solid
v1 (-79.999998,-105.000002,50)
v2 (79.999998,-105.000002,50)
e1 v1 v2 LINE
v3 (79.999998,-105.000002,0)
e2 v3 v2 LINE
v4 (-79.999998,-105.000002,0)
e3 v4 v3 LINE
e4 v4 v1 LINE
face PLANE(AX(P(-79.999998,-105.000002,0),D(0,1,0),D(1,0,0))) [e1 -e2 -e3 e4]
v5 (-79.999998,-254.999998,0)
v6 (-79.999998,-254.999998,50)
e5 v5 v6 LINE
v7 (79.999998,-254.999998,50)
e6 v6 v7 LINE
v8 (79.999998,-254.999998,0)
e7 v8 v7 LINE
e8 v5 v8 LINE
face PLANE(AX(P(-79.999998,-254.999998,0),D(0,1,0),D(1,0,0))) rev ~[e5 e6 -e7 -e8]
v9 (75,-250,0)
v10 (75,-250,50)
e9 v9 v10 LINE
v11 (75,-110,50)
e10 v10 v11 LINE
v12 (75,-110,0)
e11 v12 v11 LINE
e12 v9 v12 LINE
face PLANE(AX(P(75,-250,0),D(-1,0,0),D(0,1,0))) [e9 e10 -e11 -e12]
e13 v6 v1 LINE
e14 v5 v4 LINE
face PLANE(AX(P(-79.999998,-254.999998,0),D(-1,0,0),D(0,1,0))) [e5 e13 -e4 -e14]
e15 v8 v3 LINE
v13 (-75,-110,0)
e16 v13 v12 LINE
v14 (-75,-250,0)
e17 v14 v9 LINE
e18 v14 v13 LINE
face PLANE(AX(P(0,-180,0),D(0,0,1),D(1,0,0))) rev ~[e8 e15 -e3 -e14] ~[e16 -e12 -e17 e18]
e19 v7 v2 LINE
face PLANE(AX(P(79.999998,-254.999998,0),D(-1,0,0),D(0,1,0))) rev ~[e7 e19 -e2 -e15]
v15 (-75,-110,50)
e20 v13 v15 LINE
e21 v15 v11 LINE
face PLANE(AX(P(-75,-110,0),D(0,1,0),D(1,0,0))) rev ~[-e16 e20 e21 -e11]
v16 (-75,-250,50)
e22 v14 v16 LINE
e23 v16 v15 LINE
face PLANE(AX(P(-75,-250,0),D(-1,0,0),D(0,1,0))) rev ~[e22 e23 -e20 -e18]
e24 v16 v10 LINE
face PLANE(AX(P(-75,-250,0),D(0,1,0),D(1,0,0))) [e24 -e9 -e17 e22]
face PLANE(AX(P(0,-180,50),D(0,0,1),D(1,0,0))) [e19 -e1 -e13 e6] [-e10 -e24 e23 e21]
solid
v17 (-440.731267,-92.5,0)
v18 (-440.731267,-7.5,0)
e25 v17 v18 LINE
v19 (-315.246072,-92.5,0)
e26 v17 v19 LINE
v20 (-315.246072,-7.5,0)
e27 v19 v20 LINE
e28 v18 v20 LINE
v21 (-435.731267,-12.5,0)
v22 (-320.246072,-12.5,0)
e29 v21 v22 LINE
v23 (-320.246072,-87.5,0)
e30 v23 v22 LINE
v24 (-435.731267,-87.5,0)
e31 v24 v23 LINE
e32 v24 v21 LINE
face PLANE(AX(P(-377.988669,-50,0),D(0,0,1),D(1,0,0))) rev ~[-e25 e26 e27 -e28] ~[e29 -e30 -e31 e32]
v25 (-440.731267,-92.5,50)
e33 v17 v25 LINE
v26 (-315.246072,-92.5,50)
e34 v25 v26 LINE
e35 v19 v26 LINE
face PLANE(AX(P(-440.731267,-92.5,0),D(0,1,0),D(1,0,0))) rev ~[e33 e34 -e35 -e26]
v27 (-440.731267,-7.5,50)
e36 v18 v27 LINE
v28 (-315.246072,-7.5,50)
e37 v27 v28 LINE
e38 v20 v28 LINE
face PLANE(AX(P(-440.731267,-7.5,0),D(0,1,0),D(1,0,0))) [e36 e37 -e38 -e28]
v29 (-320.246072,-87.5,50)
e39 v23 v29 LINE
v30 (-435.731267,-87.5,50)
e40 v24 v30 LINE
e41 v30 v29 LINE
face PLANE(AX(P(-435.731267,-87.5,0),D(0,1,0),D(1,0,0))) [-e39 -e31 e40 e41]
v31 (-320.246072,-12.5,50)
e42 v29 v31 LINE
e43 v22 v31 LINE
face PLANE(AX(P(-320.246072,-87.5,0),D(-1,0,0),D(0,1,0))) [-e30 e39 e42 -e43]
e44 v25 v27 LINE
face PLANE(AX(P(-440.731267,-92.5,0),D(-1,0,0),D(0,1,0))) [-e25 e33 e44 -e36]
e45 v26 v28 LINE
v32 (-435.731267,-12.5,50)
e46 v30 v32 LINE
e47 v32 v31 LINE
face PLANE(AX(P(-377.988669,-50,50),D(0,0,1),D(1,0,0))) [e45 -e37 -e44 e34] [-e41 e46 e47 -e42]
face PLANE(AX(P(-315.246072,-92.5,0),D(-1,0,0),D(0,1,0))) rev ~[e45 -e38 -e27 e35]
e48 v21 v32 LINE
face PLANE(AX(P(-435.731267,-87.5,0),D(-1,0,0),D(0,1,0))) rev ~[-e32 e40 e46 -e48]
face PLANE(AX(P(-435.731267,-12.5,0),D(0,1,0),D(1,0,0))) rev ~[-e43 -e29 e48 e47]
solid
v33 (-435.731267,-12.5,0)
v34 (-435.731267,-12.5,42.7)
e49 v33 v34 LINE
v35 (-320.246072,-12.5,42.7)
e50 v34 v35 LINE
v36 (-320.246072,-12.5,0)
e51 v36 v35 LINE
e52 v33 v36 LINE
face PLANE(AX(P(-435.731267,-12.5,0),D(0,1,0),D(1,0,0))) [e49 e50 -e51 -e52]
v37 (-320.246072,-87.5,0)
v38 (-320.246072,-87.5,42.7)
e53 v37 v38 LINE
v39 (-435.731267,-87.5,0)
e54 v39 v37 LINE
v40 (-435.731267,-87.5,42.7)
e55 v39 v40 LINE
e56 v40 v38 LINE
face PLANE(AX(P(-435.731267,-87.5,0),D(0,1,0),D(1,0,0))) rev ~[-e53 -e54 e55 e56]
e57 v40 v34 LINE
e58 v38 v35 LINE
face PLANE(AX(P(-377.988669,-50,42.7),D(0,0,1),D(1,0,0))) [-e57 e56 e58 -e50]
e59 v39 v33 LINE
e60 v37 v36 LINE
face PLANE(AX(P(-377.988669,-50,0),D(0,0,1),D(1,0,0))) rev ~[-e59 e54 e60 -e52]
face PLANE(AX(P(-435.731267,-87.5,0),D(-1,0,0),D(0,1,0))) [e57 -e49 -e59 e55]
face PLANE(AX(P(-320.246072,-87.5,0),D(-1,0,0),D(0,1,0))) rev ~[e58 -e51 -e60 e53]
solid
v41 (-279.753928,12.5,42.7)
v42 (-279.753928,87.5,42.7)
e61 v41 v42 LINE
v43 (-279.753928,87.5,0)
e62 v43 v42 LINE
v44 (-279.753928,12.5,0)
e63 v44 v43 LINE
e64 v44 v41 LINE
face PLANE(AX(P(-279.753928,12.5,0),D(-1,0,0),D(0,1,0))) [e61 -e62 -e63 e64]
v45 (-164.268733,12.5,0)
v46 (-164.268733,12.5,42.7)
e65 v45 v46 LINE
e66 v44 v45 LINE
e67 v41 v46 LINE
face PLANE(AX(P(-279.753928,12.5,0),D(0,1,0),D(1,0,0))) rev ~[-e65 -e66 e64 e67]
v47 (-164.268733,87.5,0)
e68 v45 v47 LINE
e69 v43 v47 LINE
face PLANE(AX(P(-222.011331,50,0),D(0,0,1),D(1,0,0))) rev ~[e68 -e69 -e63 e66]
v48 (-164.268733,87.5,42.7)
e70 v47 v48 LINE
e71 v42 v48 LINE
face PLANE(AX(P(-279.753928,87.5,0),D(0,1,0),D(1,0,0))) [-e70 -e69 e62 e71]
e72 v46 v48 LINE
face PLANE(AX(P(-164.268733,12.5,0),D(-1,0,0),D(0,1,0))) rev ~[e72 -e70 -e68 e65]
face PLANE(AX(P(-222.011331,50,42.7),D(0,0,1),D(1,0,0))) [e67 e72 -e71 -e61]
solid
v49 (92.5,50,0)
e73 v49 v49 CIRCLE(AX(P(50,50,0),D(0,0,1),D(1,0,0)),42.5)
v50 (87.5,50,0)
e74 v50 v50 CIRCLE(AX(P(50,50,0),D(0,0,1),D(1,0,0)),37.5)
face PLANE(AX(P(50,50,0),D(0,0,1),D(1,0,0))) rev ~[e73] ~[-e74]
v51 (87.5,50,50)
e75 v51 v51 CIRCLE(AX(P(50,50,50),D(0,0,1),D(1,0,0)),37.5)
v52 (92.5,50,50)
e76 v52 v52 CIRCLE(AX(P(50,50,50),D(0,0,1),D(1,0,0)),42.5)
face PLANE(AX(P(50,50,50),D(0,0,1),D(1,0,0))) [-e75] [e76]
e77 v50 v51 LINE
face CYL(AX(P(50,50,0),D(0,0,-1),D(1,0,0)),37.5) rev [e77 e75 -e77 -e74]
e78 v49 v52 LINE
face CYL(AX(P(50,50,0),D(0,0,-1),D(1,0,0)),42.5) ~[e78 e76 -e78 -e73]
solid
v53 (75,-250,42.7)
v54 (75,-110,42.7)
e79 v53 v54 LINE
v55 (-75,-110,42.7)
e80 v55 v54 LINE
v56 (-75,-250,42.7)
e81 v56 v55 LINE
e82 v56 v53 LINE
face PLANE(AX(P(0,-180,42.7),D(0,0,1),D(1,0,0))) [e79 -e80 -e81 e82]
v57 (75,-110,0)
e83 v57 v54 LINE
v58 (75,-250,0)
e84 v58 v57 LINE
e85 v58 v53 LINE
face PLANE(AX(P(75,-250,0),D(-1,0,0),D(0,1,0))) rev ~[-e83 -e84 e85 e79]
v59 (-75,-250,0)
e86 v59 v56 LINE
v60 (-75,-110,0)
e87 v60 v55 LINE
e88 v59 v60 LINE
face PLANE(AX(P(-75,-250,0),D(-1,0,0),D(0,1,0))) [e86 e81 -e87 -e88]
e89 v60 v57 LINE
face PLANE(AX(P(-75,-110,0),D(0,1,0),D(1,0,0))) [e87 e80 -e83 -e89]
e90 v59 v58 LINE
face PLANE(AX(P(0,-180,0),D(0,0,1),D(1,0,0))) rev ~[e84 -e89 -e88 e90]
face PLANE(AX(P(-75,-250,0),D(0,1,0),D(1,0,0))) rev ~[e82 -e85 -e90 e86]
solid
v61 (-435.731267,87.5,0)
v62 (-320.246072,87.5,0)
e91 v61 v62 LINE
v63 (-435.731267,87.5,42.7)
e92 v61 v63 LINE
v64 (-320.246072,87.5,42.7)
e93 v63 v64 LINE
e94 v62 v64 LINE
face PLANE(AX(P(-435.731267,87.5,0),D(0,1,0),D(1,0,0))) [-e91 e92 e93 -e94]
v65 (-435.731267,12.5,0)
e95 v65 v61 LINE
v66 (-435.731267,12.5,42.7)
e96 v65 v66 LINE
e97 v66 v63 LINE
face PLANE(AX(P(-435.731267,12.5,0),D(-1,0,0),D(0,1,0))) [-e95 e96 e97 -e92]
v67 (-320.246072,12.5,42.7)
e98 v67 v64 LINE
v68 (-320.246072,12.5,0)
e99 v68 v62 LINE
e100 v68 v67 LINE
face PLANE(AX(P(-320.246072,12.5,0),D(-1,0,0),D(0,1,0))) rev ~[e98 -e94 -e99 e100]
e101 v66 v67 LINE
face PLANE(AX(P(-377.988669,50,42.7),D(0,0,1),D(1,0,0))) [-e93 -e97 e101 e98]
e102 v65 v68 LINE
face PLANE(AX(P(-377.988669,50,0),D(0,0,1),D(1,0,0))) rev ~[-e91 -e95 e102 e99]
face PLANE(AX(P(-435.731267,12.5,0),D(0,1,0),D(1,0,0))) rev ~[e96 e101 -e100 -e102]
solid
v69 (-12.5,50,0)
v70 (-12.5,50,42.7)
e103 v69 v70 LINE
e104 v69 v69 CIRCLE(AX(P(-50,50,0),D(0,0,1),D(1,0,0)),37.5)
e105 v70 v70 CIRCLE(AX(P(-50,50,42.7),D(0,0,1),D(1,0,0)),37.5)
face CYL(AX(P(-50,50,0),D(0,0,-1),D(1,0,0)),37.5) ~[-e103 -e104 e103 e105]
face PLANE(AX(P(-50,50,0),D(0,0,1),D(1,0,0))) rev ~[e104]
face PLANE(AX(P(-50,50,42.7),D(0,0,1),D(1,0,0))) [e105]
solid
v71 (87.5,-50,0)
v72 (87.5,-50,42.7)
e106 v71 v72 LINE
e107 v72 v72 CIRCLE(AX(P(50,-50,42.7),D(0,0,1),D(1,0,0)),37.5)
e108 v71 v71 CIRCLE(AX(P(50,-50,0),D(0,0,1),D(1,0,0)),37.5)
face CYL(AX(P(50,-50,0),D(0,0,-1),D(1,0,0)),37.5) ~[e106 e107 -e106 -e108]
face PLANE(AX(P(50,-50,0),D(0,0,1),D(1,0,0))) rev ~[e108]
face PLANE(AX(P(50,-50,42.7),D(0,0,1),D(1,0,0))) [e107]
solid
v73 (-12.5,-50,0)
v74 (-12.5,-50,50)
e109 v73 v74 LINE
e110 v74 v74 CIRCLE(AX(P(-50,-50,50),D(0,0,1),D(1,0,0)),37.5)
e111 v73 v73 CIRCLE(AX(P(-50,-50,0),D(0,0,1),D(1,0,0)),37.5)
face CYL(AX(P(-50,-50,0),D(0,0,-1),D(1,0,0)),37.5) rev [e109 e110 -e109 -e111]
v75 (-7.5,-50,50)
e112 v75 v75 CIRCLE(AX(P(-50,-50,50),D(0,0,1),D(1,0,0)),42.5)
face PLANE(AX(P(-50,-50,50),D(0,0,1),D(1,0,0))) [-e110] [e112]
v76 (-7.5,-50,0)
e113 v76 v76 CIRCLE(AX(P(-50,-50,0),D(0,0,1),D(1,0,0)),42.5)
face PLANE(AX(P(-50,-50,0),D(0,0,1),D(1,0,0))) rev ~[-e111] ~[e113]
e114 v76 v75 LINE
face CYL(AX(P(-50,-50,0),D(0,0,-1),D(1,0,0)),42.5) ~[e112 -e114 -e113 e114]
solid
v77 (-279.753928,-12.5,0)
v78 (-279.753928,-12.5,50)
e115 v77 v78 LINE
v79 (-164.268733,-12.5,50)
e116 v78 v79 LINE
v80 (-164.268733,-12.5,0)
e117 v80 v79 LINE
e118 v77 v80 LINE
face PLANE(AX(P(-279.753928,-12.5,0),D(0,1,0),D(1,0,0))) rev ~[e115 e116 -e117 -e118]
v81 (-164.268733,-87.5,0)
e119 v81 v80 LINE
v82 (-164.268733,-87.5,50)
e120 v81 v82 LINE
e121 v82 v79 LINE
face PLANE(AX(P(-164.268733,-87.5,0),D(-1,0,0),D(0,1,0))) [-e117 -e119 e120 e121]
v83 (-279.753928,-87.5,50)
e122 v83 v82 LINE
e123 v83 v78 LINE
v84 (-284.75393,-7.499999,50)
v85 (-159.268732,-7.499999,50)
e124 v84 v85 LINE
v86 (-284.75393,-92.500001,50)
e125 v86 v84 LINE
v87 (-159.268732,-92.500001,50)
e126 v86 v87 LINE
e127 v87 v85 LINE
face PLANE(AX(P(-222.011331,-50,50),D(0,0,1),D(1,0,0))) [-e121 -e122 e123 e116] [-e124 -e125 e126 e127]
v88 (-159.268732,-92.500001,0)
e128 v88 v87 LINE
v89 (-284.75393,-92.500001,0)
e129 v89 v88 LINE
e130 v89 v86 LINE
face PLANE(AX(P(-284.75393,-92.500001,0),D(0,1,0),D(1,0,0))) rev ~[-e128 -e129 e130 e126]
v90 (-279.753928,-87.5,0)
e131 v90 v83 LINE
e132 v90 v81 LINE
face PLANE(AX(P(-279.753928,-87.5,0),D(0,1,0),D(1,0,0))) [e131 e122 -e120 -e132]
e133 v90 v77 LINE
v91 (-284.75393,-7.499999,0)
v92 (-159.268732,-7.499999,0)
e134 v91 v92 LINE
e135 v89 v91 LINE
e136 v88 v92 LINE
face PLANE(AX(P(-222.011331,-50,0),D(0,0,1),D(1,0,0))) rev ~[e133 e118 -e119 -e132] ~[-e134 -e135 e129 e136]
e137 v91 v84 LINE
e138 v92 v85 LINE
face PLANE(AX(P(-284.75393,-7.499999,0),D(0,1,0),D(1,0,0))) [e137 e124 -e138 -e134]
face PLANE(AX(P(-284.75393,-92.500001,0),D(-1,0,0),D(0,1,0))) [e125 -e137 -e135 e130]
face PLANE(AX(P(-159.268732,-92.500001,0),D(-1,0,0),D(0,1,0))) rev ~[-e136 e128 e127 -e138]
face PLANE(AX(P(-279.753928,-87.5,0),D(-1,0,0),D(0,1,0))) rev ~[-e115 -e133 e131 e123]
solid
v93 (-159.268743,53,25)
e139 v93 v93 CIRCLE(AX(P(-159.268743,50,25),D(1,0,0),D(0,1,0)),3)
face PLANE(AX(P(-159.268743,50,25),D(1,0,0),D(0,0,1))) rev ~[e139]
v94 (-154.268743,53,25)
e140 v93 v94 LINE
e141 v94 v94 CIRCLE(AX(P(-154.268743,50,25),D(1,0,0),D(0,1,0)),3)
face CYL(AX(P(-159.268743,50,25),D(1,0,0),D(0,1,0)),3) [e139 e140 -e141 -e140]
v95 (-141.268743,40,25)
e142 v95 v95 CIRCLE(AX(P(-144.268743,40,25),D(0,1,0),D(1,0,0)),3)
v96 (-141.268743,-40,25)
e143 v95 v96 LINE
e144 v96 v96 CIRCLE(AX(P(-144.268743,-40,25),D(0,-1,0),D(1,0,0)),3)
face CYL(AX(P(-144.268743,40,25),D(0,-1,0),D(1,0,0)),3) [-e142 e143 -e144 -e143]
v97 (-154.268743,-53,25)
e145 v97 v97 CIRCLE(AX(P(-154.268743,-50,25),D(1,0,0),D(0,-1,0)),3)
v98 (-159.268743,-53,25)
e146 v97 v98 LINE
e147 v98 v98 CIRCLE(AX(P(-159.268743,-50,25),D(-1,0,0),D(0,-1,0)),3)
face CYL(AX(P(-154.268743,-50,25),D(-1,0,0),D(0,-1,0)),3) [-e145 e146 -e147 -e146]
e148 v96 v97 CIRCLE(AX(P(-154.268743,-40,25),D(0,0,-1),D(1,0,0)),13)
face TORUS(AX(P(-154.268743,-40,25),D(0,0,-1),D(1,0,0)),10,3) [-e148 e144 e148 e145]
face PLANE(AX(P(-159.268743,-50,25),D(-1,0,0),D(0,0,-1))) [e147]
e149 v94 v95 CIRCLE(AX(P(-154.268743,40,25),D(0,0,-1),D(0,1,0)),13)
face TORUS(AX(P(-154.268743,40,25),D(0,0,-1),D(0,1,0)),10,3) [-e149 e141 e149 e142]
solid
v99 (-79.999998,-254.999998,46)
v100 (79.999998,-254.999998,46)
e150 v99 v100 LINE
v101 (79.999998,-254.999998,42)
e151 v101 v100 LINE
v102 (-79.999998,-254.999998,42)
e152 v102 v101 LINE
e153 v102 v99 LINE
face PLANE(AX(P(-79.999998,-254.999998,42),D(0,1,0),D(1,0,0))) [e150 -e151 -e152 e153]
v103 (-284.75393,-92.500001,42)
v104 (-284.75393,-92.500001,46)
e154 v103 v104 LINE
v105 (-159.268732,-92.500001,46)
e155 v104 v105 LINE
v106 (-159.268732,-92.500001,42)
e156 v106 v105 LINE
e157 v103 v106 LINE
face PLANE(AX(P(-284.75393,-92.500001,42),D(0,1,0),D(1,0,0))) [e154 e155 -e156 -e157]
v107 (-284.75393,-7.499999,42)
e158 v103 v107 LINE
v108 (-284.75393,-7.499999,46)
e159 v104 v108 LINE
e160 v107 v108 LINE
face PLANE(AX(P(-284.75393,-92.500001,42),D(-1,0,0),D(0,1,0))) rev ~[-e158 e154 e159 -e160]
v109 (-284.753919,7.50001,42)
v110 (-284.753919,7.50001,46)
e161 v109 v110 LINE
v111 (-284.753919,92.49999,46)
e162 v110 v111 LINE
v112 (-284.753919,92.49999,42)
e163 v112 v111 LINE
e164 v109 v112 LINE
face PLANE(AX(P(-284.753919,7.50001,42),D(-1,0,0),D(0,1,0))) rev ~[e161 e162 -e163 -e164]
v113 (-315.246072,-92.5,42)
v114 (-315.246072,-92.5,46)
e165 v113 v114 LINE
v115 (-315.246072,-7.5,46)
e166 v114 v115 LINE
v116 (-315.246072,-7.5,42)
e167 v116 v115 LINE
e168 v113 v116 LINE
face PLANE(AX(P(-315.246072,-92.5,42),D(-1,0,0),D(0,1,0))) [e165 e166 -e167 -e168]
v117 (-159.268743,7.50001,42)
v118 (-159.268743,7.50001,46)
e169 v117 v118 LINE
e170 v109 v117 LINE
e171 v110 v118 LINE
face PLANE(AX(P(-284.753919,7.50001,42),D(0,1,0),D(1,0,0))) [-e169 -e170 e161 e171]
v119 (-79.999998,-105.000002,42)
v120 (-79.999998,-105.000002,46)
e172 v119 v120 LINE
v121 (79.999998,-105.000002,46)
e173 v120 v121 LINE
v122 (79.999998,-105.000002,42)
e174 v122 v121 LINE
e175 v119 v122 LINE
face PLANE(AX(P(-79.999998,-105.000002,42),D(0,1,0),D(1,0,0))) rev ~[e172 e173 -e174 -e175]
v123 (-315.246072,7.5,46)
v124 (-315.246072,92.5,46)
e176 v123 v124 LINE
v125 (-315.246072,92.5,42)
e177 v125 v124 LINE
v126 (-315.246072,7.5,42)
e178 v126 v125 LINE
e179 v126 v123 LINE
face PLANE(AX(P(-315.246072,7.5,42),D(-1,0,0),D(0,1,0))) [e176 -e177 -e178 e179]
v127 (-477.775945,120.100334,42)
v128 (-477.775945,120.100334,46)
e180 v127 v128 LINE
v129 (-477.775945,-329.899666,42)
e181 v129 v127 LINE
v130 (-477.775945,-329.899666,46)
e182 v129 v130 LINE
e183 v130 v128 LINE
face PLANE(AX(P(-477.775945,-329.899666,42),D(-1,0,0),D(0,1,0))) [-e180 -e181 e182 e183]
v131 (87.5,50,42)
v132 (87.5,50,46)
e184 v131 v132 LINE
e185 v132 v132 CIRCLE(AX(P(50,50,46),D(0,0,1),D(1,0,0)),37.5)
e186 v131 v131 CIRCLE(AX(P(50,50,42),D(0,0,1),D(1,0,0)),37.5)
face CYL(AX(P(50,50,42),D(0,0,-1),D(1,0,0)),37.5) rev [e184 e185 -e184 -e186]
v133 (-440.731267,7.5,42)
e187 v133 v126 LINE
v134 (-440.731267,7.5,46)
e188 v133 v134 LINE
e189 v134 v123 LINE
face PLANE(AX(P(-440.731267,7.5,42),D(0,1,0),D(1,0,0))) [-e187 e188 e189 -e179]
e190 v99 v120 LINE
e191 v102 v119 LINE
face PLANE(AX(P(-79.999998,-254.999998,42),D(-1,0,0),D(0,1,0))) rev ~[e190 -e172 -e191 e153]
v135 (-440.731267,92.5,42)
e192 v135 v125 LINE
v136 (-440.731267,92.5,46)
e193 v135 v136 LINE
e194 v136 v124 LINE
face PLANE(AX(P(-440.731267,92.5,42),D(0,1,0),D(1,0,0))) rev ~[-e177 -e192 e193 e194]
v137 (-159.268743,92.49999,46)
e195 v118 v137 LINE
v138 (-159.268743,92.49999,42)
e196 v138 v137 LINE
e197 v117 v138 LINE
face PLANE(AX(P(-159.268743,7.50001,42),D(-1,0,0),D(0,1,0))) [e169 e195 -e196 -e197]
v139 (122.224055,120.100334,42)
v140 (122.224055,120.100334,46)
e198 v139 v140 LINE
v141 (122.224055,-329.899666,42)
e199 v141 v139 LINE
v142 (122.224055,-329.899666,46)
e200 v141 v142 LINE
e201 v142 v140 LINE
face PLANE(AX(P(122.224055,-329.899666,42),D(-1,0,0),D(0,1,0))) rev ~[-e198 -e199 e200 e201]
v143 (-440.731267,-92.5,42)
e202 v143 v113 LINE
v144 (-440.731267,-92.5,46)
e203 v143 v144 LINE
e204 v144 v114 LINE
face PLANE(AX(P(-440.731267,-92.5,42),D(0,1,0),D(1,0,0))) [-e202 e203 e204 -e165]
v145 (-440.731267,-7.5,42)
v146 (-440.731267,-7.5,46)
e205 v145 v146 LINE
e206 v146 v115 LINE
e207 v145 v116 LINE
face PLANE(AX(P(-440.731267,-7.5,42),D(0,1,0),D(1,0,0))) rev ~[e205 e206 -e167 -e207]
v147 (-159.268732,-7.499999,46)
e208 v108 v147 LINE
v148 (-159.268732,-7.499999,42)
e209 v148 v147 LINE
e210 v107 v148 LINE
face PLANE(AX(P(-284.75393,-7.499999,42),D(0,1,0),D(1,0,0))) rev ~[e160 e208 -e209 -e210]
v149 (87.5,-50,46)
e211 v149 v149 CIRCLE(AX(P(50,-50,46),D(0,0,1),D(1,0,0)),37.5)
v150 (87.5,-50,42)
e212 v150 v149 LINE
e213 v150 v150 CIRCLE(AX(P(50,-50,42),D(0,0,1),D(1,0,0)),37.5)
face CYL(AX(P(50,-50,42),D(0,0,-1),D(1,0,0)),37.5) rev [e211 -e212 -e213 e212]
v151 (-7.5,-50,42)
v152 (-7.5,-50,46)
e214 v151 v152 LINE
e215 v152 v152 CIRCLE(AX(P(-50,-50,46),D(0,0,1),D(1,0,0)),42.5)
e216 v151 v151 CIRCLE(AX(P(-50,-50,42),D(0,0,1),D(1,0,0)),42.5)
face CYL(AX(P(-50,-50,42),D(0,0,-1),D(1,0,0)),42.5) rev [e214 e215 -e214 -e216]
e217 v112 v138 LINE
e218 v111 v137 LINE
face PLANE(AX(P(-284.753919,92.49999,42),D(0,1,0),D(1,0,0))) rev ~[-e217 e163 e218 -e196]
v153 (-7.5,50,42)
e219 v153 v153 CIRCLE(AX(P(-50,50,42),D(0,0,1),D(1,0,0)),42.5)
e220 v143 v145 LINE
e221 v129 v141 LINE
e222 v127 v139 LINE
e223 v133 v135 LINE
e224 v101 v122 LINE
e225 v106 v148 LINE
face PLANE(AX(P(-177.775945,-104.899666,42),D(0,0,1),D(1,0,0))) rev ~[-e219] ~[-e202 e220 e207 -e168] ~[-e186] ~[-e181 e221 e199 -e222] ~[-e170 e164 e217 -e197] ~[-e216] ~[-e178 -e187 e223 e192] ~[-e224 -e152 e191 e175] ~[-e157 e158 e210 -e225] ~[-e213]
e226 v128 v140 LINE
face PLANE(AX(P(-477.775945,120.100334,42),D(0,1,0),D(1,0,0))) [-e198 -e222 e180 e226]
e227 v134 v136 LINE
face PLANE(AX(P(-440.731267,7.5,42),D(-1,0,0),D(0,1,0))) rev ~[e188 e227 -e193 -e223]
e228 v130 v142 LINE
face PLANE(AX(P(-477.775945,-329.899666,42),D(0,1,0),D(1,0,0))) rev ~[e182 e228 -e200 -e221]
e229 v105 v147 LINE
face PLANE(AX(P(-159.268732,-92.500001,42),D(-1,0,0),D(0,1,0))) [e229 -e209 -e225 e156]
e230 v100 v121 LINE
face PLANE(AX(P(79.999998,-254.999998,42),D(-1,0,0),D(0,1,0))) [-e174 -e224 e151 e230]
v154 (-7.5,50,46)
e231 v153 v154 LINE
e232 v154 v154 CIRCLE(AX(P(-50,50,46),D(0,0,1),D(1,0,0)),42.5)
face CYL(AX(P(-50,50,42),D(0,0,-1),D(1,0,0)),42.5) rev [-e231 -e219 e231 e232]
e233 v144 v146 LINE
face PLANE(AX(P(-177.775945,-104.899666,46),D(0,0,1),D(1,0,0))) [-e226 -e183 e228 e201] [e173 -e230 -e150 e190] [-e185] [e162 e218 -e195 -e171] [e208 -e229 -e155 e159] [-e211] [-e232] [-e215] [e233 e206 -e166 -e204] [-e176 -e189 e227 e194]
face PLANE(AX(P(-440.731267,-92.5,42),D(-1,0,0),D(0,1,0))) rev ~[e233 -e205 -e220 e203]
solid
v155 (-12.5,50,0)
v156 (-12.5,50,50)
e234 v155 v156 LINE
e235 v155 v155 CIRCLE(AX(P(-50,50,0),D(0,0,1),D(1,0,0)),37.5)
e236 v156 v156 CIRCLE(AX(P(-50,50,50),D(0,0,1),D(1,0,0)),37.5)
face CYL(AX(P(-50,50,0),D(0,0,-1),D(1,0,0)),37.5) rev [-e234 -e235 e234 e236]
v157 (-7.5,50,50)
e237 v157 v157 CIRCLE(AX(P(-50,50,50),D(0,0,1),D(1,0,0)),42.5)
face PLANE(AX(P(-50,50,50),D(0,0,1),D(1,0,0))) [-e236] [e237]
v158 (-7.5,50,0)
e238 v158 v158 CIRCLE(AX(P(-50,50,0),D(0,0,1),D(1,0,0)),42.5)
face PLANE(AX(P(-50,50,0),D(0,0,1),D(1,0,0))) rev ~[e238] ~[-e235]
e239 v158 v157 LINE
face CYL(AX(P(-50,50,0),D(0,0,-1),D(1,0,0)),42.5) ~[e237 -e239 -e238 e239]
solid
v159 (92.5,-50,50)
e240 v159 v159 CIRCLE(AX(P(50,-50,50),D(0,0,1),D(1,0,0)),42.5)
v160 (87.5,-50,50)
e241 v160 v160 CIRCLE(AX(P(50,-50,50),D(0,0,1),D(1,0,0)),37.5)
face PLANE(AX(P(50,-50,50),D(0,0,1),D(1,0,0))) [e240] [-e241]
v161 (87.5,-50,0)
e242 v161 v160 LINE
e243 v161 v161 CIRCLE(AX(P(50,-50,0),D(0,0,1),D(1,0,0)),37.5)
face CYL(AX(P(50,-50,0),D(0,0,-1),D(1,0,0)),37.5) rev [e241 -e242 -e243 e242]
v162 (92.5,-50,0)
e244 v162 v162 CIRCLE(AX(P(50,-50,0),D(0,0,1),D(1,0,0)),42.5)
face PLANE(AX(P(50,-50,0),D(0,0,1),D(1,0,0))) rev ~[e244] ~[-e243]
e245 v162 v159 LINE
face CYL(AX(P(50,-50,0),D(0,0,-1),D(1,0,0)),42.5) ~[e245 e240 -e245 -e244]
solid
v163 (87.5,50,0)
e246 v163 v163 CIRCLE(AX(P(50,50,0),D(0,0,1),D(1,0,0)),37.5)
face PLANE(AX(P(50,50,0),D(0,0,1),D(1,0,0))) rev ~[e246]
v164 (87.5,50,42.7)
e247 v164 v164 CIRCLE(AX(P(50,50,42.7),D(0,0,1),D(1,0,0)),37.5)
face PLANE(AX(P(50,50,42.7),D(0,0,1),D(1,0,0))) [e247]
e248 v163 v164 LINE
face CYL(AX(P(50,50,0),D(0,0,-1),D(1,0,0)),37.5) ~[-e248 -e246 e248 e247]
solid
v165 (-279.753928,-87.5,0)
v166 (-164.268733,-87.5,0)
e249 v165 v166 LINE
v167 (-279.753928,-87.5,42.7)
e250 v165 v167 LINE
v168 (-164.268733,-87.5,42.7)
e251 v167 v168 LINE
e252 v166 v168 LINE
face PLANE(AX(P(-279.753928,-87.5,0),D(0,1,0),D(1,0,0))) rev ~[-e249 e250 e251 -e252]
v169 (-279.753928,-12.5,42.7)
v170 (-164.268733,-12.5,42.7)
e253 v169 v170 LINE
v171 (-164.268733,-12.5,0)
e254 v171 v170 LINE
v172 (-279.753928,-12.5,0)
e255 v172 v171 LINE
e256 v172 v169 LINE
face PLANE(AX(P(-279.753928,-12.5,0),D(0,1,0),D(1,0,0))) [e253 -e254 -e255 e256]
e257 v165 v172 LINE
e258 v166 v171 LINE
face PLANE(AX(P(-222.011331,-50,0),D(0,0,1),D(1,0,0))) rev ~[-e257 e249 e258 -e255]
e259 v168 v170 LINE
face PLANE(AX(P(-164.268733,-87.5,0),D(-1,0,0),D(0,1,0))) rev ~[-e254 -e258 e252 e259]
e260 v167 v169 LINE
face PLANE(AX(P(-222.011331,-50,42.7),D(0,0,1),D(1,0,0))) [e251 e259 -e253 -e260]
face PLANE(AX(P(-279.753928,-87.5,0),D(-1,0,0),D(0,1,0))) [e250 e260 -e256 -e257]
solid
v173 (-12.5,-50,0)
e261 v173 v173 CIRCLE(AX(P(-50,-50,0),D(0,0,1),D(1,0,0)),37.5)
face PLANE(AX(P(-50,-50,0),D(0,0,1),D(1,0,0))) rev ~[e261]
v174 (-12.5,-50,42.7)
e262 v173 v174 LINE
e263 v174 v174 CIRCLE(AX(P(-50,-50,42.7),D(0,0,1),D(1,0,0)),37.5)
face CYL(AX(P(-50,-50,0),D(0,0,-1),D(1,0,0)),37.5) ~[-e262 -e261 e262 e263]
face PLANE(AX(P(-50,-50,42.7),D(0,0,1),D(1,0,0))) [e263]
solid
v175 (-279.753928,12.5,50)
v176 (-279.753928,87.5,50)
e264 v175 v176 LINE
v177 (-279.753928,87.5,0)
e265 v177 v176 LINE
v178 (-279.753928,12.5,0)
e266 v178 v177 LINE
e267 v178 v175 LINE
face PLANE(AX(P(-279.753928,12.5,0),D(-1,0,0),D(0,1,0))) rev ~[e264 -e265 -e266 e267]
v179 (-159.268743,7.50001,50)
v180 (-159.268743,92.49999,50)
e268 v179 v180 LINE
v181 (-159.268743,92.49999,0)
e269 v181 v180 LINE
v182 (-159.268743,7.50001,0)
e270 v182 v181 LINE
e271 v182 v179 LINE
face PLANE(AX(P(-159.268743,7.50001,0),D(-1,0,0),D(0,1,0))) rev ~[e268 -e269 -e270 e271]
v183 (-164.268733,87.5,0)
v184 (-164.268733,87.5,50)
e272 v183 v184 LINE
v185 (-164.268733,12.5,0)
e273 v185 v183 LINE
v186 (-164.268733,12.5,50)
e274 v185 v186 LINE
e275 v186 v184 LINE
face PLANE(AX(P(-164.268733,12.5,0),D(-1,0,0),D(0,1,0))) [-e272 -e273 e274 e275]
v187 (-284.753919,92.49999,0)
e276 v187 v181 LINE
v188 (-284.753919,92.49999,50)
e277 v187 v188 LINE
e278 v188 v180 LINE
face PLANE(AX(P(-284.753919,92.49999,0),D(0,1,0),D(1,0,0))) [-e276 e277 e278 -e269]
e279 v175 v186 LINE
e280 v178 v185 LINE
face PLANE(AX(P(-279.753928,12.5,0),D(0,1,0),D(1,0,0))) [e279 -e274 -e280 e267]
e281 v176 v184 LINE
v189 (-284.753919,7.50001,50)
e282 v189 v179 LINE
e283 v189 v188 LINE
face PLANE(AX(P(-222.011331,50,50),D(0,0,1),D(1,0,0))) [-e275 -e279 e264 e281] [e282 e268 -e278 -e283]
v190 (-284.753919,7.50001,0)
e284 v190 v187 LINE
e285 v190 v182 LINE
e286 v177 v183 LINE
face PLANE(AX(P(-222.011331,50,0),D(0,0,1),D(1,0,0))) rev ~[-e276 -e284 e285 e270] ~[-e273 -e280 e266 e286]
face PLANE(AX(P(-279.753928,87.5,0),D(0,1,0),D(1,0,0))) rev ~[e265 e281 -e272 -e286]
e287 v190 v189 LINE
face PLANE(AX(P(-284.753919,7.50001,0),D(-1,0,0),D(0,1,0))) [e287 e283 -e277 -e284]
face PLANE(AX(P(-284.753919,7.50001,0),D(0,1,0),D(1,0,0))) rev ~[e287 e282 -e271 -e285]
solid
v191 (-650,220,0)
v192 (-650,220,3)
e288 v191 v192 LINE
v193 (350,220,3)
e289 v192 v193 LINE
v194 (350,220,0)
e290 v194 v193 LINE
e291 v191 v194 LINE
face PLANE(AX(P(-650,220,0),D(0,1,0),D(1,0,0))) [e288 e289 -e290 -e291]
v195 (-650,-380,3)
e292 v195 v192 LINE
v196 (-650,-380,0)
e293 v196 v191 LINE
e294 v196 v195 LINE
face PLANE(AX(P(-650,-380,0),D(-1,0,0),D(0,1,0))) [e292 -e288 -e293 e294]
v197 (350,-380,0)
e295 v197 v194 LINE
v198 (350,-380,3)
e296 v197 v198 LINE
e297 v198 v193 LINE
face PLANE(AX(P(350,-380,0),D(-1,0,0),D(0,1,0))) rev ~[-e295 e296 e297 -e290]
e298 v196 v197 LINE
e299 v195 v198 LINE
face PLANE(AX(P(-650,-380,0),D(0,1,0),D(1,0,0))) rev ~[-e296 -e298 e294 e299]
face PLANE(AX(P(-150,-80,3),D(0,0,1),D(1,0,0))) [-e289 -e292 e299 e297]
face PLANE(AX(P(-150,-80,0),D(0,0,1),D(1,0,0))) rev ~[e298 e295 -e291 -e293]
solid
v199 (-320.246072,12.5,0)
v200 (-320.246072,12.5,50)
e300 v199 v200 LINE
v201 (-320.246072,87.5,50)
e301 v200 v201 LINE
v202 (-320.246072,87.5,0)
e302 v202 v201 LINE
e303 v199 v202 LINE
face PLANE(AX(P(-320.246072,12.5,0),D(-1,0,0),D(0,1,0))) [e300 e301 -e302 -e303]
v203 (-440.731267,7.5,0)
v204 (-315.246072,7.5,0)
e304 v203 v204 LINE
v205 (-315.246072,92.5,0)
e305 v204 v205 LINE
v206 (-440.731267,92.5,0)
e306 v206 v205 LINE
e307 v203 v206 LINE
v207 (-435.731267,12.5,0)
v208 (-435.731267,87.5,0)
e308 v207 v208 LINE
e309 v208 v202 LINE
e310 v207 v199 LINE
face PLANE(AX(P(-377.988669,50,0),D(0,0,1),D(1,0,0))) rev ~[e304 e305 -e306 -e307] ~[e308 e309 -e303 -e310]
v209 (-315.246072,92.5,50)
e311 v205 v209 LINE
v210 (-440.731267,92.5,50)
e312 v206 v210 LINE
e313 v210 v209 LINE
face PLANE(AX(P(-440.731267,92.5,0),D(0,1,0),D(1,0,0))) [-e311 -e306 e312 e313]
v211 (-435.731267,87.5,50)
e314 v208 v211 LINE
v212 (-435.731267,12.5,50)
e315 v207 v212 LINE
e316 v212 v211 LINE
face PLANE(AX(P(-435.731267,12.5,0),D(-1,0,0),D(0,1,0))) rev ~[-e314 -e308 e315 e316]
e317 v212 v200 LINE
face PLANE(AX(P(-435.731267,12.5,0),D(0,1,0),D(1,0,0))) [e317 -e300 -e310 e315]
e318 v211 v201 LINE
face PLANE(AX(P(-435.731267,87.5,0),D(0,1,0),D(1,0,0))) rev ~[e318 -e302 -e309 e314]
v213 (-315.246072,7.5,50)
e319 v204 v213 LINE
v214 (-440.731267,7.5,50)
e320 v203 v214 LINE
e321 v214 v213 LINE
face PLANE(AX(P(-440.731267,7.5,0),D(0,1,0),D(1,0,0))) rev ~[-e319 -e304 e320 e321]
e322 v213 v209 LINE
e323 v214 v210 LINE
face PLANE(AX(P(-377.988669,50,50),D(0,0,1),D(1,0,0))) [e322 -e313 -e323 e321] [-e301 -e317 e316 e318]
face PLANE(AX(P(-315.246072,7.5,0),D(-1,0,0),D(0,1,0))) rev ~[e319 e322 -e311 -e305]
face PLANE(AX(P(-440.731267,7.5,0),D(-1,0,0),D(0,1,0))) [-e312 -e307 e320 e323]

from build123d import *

# Parameters (mm, degrees)
F0_R      = 42.5
F0_R_2    = 37.5
F1_DEPTH  = 50
F0_W      = 159.9999964237
F0_H      = 149.9999964237
F0_W_2    = 150
F0_H_2    = 140
F0_W_3    = 125.4851952609
F0_H_3    = 85
F0_W_4    = 115.4851952609
F0_H_4    = 75
F0_W_5    = 125.485175848
F0_H_5    = 84.9999805871
F0_W_6    = 125.4851976451
F0_H_6    = 85.0000023842
F2_W      = 1000
F2_H      = 600
F3_DEPTH  = 3
F4_W      = 115.4851952609
F4_H      = 75
F5_DEPTH  = 42.7
F4_R      = 37.5
F4_W_2    = 150
F4_H_2    = 140
F6_R      = 3
F11_W     = 600
F11_H     = 450
F11_W_2   = 159.9999964237
F11_H_2   = 149.9999964237
F11_W_3   = 125.4851952609
F11_H_3   = 85
F11_W_4   = 125.4851976451
F11_H_4   = 85.0000023842
F11_W_5   = 125.485175848
F11_H_5   = 84.9999805871
F11_R     = 42.5
F11_R_2   = 37.5
F12_DEPTH = 4


with BuildPart() as f1:
    # F0 (on Top) → F1 (new body)
    with BuildSketch(Plane.XY):
        with Locations((-50, -50)):
            Circle(F0_R)
        with Locations((-50, -50)):
            Circle(F0_R_2, mode=Mode.SUBTRACT)
    extrude(amount=F1_DEPTH)


with BuildPart() as f1b:
    # F0 (on Top) → F1, piece 2 (new body)
    with BuildSketch(Plane.XY):
        with Locations((-50, 50)):
            Circle(F0_R)
        with Locations((-50, 50)):
            Circle(F0_R_2, mode=Mode.SUBTRACT)
    extrude(amount=F1_DEPTH)


with BuildPart() as f1c:
    # F0 (on Top) → F1, piece 3 (new body)
    with BuildSketch(Plane.XY):
        with Locations((50, 50)):
            Circle(F0_R)
        with Locations((50, 50)):
            Circle(F0_R_2, mode=Mode.SUBTRACT)
    extrude(amount=F1_DEPTH)


with BuildPart() as f1d:
    # F0 (on Top) → F1, piece 4 (new body)
    with BuildSketch(Plane.XY):
        with Locations((50, -50)):
            Circle(F0_R)
        with Locations((50, -50)):
            Circle(F0_R_2, mode=Mode.SUBTRACT)
    extrude(amount=F1_DEPTH)


with BuildPart() as f1e:
    # F0 (on Top) → F1, piece 5 (new body)
    with BuildSketch(Plane.XY):
        with Locations((0, -180)):
            Rectangle(F0_W, F0_H)
        with Locations((0, -180)):
            Rectangle(F0_W_2, F0_H_2, mode=Mode.SUBTRACT)
    extrude(amount=F1_DEPTH)


with BuildPart() as f1f:
    # F0 (on Top) → F1, piece 6 (new body)
    with BuildSketch(Plane.XY):
        with Locations((-377.9886692762, 50)):
            Rectangle(F0_W_3, F0_H_3)
        with Locations((-377.9886692762, 50)):
            Rectangle(F0_W_4, F0_H_4, mode=Mode.SUBTRACT)
    extrude(amount=F1_DEPTH)


with BuildPart() as f1g:
    # F0 (on Top) → F1, piece 7 (new body)
    with BuildSketch(Plane.XY):
        with Locations((-222.0113307238, 50)):
            Rectangle(F0_W_5, F0_H_5)
        with Locations((-222.0113307238, 50)):
            Rectangle(F0_W_4, F0_H_4, mode=Mode.SUBTRACT)
    extrude(amount=F1_DEPTH)


with BuildPart() as f1h:
    # F0 (on Top) → F1, piece 8 (new body)
    with BuildSketch(Plane.XY):
        with Locations((-377.9886692762, -50)):
            Rectangle(F0_W_3, F0_H_3)
        with Locations((-377.9886692762, -50)):
            Rectangle(F0_W_4, F0_H_4, mode=Mode.SUBTRACT)
    extrude(amount=F1_DEPTH)


with BuildPart() as f1i:
    # F0 (on Top) → F1, piece 9 (new body)
    with BuildSketch(Plane.XY):
        with Locations((-222.0113307238, -50)):
            Rectangle(F0_W_6, F0_H_6)
        with Locations((-222.0113307238, -50)):
            Rectangle(F0_W_4, F0_H_4, mode=Mode.SUBTRACT)
    extrude(amount=F1_DEPTH)


with BuildPart() as f3:
    # F2 (on Top) → F3 (new body)
    with BuildSketch(Plane.XY):
        with Locations((-150, -80)):
            Rectangle(F2_W, F2_H)
    extrude(amount=F3_DEPTH)


with BuildPart() as f5:
    # F4 (on Top) → F5 (new body)
    with BuildSketch(Plane.XY):
        with Locations((-377.9886692762, 50)):
            Rectangle(F4_W, F4_H)
    extrude(amount=F5_DEPTH)


with BuildPart() as f5b:
    # F4 (on Top) → F5, piece 2 (new body)
    with BuildSketch(Plane.XY):
        with Locations((-222.0113307238, 50)):
            Rectangle(F4_W, F4_H)
    extrude(amount=F5_DEPTH)


with BuildPart() as f5c:
    # F4 (on Top) → F5, piece 3 (new body)
    with BuildSketch(Plane.XY):
        with Locations((-222.0113307238, -50)):
            Rectangle(F4_W, F4_H)
    extrude(amount=F5_DEPTH)


with BuildPart() as f5d:
    # F4 (on Top) → F5, piece 4 (new body)
    with BuildSketch(Plane.XY):
        with Locations((-377.9886692762, -50)):
            Rectangle(F4_W, F4_H)
    extrude(amount=F5_DEPTH)


with BuildPart() as f5e:
    # F4 (on Top) → F5, piece 5 (new body)
    with BuildSketch(Plane.XY):
        with Locations((-50, 50)):
            Circle(F4_R)
    extrude(amount=F5_DEPTH)


with BuildPart() as f5f:
    # F4 (on Top) → F5, piece 6 (new body)
    with BuildSketch(Plane.XY):
        with Locations((-50, -50)):
            Circle(F4_R)
    extrude(amount=F5_DEPTH)


with BuildPart() as f5g:
    # F4 (on Top) → F5, piece 7 (new body)
    with BuildSketch(Plane.XY):
        with Locations((50, 50)):
            Circle(F4_R)
    extrude(amount=F5_DEPTH)


with BuildPart() as f5h:
    # F4 (on Top) → F5, piece 8 (new body)
    with BuildSketch(Plane.XY):
        with Locations((50, -50)):
            Circle(F4_R)
    extrude(amount=F5_DEPTH)


with BuildPart() as f5i:
    # F4 (on Top) → F5, piece 9 (new body)
    with BuildSketch(Plane.XY):
        with Locations((0, -180)):
            Rectangle(F4_W_2, F4_H_2)
    extrude(amount=F5_DEPTH)


with BuildPart() as f9:
    # F9: sweep along a path in F8
    with BuildLine(Plane(origin=(0, 0, 25), x_dir=(1, 0, 0), z_dir=(0, 0, -1))) as f9_path:
        Line((-159.2687427998, -50), (-154.2687427998, -50))
        ThreePointArc((-154.2687427998, -50), (-147.1976749879, -47.0710678119), (-144.2687427998, -40))
        Line((-144.2687427998, -40), (-144.2687427998, 40))
        ThreePointArc((-144.2687427998, 40), (-147.1976749879, 47.0710678119), (-154.2687427998, 50))
        Line((-154.2687427998, 50), (-159.2687427998, 50))
    # F6 (on face) → F9 (sweep)
    with BuildSketch(Plane.YZ.offset(-159.2687427998)):
        with Locations((50, 25)):
            Circle(F6_R)
    sweep(path=f9_path.line)


with BuildPart() as f12:
    # F11 (on offset) → F12 (new body)
    with BuildSketch(Plane.XY.offset(42)):
        with Locations((-177.7759447694, -104.8996657133)):
            Rectangle(F11_W, F11_H)
        with Locations((0, -180)):
            Rectangle(F11_W_2, F11_H_2, mode=Mode.SUBTRACT)
        with Locations((-377.9886692762, -50)):
            Rectangle(F11_W_3, F11_H_3, mode=Mode.SUBTRACT)
        with Locations((-222.0113307238, -50)):
            Rectangle(F11_W_4, F11_H_4, mode=Mode.SUBTRACT)
        with Locations((-377.9886692762, 50)):
            Rectangle(F11_W_3, F11_H_3, mode=Mode.SUBTRACT)
        with Locations((-222.0113307238, 50)):
            Rectangle(F11_W_5, F11_H_5, mode=Mode.SUBTRACT)
        with Locations((-50, -50)):
            Circle(F11_R, mode=Mode.SUBTRACT)
        with Locations((50, -50)):
            Circle(F11_R_2, mode=Mode.SUBTRACT)
        with Locations((-50, 50)):
            Circle(F11_R, mode=Mode.SUBTRACT)
        with Locations((50, 50)):
            Circle(F11_R_2, mode=Mode.SUBTRACT)
    extrude(amount=F12_DEPTH)


solid = Compound([f1.part, f1b.part, f1c.part, f1d.part, f1e.part, f1f.part, f1g.part, f1h.part, f1i.part, f3.part, f5.part, f5b.part, f5c.part, f5d.part, f5e.part, f5f.part, f5g.part, f5h.part, f5i.part, f9.part, f12.part])
